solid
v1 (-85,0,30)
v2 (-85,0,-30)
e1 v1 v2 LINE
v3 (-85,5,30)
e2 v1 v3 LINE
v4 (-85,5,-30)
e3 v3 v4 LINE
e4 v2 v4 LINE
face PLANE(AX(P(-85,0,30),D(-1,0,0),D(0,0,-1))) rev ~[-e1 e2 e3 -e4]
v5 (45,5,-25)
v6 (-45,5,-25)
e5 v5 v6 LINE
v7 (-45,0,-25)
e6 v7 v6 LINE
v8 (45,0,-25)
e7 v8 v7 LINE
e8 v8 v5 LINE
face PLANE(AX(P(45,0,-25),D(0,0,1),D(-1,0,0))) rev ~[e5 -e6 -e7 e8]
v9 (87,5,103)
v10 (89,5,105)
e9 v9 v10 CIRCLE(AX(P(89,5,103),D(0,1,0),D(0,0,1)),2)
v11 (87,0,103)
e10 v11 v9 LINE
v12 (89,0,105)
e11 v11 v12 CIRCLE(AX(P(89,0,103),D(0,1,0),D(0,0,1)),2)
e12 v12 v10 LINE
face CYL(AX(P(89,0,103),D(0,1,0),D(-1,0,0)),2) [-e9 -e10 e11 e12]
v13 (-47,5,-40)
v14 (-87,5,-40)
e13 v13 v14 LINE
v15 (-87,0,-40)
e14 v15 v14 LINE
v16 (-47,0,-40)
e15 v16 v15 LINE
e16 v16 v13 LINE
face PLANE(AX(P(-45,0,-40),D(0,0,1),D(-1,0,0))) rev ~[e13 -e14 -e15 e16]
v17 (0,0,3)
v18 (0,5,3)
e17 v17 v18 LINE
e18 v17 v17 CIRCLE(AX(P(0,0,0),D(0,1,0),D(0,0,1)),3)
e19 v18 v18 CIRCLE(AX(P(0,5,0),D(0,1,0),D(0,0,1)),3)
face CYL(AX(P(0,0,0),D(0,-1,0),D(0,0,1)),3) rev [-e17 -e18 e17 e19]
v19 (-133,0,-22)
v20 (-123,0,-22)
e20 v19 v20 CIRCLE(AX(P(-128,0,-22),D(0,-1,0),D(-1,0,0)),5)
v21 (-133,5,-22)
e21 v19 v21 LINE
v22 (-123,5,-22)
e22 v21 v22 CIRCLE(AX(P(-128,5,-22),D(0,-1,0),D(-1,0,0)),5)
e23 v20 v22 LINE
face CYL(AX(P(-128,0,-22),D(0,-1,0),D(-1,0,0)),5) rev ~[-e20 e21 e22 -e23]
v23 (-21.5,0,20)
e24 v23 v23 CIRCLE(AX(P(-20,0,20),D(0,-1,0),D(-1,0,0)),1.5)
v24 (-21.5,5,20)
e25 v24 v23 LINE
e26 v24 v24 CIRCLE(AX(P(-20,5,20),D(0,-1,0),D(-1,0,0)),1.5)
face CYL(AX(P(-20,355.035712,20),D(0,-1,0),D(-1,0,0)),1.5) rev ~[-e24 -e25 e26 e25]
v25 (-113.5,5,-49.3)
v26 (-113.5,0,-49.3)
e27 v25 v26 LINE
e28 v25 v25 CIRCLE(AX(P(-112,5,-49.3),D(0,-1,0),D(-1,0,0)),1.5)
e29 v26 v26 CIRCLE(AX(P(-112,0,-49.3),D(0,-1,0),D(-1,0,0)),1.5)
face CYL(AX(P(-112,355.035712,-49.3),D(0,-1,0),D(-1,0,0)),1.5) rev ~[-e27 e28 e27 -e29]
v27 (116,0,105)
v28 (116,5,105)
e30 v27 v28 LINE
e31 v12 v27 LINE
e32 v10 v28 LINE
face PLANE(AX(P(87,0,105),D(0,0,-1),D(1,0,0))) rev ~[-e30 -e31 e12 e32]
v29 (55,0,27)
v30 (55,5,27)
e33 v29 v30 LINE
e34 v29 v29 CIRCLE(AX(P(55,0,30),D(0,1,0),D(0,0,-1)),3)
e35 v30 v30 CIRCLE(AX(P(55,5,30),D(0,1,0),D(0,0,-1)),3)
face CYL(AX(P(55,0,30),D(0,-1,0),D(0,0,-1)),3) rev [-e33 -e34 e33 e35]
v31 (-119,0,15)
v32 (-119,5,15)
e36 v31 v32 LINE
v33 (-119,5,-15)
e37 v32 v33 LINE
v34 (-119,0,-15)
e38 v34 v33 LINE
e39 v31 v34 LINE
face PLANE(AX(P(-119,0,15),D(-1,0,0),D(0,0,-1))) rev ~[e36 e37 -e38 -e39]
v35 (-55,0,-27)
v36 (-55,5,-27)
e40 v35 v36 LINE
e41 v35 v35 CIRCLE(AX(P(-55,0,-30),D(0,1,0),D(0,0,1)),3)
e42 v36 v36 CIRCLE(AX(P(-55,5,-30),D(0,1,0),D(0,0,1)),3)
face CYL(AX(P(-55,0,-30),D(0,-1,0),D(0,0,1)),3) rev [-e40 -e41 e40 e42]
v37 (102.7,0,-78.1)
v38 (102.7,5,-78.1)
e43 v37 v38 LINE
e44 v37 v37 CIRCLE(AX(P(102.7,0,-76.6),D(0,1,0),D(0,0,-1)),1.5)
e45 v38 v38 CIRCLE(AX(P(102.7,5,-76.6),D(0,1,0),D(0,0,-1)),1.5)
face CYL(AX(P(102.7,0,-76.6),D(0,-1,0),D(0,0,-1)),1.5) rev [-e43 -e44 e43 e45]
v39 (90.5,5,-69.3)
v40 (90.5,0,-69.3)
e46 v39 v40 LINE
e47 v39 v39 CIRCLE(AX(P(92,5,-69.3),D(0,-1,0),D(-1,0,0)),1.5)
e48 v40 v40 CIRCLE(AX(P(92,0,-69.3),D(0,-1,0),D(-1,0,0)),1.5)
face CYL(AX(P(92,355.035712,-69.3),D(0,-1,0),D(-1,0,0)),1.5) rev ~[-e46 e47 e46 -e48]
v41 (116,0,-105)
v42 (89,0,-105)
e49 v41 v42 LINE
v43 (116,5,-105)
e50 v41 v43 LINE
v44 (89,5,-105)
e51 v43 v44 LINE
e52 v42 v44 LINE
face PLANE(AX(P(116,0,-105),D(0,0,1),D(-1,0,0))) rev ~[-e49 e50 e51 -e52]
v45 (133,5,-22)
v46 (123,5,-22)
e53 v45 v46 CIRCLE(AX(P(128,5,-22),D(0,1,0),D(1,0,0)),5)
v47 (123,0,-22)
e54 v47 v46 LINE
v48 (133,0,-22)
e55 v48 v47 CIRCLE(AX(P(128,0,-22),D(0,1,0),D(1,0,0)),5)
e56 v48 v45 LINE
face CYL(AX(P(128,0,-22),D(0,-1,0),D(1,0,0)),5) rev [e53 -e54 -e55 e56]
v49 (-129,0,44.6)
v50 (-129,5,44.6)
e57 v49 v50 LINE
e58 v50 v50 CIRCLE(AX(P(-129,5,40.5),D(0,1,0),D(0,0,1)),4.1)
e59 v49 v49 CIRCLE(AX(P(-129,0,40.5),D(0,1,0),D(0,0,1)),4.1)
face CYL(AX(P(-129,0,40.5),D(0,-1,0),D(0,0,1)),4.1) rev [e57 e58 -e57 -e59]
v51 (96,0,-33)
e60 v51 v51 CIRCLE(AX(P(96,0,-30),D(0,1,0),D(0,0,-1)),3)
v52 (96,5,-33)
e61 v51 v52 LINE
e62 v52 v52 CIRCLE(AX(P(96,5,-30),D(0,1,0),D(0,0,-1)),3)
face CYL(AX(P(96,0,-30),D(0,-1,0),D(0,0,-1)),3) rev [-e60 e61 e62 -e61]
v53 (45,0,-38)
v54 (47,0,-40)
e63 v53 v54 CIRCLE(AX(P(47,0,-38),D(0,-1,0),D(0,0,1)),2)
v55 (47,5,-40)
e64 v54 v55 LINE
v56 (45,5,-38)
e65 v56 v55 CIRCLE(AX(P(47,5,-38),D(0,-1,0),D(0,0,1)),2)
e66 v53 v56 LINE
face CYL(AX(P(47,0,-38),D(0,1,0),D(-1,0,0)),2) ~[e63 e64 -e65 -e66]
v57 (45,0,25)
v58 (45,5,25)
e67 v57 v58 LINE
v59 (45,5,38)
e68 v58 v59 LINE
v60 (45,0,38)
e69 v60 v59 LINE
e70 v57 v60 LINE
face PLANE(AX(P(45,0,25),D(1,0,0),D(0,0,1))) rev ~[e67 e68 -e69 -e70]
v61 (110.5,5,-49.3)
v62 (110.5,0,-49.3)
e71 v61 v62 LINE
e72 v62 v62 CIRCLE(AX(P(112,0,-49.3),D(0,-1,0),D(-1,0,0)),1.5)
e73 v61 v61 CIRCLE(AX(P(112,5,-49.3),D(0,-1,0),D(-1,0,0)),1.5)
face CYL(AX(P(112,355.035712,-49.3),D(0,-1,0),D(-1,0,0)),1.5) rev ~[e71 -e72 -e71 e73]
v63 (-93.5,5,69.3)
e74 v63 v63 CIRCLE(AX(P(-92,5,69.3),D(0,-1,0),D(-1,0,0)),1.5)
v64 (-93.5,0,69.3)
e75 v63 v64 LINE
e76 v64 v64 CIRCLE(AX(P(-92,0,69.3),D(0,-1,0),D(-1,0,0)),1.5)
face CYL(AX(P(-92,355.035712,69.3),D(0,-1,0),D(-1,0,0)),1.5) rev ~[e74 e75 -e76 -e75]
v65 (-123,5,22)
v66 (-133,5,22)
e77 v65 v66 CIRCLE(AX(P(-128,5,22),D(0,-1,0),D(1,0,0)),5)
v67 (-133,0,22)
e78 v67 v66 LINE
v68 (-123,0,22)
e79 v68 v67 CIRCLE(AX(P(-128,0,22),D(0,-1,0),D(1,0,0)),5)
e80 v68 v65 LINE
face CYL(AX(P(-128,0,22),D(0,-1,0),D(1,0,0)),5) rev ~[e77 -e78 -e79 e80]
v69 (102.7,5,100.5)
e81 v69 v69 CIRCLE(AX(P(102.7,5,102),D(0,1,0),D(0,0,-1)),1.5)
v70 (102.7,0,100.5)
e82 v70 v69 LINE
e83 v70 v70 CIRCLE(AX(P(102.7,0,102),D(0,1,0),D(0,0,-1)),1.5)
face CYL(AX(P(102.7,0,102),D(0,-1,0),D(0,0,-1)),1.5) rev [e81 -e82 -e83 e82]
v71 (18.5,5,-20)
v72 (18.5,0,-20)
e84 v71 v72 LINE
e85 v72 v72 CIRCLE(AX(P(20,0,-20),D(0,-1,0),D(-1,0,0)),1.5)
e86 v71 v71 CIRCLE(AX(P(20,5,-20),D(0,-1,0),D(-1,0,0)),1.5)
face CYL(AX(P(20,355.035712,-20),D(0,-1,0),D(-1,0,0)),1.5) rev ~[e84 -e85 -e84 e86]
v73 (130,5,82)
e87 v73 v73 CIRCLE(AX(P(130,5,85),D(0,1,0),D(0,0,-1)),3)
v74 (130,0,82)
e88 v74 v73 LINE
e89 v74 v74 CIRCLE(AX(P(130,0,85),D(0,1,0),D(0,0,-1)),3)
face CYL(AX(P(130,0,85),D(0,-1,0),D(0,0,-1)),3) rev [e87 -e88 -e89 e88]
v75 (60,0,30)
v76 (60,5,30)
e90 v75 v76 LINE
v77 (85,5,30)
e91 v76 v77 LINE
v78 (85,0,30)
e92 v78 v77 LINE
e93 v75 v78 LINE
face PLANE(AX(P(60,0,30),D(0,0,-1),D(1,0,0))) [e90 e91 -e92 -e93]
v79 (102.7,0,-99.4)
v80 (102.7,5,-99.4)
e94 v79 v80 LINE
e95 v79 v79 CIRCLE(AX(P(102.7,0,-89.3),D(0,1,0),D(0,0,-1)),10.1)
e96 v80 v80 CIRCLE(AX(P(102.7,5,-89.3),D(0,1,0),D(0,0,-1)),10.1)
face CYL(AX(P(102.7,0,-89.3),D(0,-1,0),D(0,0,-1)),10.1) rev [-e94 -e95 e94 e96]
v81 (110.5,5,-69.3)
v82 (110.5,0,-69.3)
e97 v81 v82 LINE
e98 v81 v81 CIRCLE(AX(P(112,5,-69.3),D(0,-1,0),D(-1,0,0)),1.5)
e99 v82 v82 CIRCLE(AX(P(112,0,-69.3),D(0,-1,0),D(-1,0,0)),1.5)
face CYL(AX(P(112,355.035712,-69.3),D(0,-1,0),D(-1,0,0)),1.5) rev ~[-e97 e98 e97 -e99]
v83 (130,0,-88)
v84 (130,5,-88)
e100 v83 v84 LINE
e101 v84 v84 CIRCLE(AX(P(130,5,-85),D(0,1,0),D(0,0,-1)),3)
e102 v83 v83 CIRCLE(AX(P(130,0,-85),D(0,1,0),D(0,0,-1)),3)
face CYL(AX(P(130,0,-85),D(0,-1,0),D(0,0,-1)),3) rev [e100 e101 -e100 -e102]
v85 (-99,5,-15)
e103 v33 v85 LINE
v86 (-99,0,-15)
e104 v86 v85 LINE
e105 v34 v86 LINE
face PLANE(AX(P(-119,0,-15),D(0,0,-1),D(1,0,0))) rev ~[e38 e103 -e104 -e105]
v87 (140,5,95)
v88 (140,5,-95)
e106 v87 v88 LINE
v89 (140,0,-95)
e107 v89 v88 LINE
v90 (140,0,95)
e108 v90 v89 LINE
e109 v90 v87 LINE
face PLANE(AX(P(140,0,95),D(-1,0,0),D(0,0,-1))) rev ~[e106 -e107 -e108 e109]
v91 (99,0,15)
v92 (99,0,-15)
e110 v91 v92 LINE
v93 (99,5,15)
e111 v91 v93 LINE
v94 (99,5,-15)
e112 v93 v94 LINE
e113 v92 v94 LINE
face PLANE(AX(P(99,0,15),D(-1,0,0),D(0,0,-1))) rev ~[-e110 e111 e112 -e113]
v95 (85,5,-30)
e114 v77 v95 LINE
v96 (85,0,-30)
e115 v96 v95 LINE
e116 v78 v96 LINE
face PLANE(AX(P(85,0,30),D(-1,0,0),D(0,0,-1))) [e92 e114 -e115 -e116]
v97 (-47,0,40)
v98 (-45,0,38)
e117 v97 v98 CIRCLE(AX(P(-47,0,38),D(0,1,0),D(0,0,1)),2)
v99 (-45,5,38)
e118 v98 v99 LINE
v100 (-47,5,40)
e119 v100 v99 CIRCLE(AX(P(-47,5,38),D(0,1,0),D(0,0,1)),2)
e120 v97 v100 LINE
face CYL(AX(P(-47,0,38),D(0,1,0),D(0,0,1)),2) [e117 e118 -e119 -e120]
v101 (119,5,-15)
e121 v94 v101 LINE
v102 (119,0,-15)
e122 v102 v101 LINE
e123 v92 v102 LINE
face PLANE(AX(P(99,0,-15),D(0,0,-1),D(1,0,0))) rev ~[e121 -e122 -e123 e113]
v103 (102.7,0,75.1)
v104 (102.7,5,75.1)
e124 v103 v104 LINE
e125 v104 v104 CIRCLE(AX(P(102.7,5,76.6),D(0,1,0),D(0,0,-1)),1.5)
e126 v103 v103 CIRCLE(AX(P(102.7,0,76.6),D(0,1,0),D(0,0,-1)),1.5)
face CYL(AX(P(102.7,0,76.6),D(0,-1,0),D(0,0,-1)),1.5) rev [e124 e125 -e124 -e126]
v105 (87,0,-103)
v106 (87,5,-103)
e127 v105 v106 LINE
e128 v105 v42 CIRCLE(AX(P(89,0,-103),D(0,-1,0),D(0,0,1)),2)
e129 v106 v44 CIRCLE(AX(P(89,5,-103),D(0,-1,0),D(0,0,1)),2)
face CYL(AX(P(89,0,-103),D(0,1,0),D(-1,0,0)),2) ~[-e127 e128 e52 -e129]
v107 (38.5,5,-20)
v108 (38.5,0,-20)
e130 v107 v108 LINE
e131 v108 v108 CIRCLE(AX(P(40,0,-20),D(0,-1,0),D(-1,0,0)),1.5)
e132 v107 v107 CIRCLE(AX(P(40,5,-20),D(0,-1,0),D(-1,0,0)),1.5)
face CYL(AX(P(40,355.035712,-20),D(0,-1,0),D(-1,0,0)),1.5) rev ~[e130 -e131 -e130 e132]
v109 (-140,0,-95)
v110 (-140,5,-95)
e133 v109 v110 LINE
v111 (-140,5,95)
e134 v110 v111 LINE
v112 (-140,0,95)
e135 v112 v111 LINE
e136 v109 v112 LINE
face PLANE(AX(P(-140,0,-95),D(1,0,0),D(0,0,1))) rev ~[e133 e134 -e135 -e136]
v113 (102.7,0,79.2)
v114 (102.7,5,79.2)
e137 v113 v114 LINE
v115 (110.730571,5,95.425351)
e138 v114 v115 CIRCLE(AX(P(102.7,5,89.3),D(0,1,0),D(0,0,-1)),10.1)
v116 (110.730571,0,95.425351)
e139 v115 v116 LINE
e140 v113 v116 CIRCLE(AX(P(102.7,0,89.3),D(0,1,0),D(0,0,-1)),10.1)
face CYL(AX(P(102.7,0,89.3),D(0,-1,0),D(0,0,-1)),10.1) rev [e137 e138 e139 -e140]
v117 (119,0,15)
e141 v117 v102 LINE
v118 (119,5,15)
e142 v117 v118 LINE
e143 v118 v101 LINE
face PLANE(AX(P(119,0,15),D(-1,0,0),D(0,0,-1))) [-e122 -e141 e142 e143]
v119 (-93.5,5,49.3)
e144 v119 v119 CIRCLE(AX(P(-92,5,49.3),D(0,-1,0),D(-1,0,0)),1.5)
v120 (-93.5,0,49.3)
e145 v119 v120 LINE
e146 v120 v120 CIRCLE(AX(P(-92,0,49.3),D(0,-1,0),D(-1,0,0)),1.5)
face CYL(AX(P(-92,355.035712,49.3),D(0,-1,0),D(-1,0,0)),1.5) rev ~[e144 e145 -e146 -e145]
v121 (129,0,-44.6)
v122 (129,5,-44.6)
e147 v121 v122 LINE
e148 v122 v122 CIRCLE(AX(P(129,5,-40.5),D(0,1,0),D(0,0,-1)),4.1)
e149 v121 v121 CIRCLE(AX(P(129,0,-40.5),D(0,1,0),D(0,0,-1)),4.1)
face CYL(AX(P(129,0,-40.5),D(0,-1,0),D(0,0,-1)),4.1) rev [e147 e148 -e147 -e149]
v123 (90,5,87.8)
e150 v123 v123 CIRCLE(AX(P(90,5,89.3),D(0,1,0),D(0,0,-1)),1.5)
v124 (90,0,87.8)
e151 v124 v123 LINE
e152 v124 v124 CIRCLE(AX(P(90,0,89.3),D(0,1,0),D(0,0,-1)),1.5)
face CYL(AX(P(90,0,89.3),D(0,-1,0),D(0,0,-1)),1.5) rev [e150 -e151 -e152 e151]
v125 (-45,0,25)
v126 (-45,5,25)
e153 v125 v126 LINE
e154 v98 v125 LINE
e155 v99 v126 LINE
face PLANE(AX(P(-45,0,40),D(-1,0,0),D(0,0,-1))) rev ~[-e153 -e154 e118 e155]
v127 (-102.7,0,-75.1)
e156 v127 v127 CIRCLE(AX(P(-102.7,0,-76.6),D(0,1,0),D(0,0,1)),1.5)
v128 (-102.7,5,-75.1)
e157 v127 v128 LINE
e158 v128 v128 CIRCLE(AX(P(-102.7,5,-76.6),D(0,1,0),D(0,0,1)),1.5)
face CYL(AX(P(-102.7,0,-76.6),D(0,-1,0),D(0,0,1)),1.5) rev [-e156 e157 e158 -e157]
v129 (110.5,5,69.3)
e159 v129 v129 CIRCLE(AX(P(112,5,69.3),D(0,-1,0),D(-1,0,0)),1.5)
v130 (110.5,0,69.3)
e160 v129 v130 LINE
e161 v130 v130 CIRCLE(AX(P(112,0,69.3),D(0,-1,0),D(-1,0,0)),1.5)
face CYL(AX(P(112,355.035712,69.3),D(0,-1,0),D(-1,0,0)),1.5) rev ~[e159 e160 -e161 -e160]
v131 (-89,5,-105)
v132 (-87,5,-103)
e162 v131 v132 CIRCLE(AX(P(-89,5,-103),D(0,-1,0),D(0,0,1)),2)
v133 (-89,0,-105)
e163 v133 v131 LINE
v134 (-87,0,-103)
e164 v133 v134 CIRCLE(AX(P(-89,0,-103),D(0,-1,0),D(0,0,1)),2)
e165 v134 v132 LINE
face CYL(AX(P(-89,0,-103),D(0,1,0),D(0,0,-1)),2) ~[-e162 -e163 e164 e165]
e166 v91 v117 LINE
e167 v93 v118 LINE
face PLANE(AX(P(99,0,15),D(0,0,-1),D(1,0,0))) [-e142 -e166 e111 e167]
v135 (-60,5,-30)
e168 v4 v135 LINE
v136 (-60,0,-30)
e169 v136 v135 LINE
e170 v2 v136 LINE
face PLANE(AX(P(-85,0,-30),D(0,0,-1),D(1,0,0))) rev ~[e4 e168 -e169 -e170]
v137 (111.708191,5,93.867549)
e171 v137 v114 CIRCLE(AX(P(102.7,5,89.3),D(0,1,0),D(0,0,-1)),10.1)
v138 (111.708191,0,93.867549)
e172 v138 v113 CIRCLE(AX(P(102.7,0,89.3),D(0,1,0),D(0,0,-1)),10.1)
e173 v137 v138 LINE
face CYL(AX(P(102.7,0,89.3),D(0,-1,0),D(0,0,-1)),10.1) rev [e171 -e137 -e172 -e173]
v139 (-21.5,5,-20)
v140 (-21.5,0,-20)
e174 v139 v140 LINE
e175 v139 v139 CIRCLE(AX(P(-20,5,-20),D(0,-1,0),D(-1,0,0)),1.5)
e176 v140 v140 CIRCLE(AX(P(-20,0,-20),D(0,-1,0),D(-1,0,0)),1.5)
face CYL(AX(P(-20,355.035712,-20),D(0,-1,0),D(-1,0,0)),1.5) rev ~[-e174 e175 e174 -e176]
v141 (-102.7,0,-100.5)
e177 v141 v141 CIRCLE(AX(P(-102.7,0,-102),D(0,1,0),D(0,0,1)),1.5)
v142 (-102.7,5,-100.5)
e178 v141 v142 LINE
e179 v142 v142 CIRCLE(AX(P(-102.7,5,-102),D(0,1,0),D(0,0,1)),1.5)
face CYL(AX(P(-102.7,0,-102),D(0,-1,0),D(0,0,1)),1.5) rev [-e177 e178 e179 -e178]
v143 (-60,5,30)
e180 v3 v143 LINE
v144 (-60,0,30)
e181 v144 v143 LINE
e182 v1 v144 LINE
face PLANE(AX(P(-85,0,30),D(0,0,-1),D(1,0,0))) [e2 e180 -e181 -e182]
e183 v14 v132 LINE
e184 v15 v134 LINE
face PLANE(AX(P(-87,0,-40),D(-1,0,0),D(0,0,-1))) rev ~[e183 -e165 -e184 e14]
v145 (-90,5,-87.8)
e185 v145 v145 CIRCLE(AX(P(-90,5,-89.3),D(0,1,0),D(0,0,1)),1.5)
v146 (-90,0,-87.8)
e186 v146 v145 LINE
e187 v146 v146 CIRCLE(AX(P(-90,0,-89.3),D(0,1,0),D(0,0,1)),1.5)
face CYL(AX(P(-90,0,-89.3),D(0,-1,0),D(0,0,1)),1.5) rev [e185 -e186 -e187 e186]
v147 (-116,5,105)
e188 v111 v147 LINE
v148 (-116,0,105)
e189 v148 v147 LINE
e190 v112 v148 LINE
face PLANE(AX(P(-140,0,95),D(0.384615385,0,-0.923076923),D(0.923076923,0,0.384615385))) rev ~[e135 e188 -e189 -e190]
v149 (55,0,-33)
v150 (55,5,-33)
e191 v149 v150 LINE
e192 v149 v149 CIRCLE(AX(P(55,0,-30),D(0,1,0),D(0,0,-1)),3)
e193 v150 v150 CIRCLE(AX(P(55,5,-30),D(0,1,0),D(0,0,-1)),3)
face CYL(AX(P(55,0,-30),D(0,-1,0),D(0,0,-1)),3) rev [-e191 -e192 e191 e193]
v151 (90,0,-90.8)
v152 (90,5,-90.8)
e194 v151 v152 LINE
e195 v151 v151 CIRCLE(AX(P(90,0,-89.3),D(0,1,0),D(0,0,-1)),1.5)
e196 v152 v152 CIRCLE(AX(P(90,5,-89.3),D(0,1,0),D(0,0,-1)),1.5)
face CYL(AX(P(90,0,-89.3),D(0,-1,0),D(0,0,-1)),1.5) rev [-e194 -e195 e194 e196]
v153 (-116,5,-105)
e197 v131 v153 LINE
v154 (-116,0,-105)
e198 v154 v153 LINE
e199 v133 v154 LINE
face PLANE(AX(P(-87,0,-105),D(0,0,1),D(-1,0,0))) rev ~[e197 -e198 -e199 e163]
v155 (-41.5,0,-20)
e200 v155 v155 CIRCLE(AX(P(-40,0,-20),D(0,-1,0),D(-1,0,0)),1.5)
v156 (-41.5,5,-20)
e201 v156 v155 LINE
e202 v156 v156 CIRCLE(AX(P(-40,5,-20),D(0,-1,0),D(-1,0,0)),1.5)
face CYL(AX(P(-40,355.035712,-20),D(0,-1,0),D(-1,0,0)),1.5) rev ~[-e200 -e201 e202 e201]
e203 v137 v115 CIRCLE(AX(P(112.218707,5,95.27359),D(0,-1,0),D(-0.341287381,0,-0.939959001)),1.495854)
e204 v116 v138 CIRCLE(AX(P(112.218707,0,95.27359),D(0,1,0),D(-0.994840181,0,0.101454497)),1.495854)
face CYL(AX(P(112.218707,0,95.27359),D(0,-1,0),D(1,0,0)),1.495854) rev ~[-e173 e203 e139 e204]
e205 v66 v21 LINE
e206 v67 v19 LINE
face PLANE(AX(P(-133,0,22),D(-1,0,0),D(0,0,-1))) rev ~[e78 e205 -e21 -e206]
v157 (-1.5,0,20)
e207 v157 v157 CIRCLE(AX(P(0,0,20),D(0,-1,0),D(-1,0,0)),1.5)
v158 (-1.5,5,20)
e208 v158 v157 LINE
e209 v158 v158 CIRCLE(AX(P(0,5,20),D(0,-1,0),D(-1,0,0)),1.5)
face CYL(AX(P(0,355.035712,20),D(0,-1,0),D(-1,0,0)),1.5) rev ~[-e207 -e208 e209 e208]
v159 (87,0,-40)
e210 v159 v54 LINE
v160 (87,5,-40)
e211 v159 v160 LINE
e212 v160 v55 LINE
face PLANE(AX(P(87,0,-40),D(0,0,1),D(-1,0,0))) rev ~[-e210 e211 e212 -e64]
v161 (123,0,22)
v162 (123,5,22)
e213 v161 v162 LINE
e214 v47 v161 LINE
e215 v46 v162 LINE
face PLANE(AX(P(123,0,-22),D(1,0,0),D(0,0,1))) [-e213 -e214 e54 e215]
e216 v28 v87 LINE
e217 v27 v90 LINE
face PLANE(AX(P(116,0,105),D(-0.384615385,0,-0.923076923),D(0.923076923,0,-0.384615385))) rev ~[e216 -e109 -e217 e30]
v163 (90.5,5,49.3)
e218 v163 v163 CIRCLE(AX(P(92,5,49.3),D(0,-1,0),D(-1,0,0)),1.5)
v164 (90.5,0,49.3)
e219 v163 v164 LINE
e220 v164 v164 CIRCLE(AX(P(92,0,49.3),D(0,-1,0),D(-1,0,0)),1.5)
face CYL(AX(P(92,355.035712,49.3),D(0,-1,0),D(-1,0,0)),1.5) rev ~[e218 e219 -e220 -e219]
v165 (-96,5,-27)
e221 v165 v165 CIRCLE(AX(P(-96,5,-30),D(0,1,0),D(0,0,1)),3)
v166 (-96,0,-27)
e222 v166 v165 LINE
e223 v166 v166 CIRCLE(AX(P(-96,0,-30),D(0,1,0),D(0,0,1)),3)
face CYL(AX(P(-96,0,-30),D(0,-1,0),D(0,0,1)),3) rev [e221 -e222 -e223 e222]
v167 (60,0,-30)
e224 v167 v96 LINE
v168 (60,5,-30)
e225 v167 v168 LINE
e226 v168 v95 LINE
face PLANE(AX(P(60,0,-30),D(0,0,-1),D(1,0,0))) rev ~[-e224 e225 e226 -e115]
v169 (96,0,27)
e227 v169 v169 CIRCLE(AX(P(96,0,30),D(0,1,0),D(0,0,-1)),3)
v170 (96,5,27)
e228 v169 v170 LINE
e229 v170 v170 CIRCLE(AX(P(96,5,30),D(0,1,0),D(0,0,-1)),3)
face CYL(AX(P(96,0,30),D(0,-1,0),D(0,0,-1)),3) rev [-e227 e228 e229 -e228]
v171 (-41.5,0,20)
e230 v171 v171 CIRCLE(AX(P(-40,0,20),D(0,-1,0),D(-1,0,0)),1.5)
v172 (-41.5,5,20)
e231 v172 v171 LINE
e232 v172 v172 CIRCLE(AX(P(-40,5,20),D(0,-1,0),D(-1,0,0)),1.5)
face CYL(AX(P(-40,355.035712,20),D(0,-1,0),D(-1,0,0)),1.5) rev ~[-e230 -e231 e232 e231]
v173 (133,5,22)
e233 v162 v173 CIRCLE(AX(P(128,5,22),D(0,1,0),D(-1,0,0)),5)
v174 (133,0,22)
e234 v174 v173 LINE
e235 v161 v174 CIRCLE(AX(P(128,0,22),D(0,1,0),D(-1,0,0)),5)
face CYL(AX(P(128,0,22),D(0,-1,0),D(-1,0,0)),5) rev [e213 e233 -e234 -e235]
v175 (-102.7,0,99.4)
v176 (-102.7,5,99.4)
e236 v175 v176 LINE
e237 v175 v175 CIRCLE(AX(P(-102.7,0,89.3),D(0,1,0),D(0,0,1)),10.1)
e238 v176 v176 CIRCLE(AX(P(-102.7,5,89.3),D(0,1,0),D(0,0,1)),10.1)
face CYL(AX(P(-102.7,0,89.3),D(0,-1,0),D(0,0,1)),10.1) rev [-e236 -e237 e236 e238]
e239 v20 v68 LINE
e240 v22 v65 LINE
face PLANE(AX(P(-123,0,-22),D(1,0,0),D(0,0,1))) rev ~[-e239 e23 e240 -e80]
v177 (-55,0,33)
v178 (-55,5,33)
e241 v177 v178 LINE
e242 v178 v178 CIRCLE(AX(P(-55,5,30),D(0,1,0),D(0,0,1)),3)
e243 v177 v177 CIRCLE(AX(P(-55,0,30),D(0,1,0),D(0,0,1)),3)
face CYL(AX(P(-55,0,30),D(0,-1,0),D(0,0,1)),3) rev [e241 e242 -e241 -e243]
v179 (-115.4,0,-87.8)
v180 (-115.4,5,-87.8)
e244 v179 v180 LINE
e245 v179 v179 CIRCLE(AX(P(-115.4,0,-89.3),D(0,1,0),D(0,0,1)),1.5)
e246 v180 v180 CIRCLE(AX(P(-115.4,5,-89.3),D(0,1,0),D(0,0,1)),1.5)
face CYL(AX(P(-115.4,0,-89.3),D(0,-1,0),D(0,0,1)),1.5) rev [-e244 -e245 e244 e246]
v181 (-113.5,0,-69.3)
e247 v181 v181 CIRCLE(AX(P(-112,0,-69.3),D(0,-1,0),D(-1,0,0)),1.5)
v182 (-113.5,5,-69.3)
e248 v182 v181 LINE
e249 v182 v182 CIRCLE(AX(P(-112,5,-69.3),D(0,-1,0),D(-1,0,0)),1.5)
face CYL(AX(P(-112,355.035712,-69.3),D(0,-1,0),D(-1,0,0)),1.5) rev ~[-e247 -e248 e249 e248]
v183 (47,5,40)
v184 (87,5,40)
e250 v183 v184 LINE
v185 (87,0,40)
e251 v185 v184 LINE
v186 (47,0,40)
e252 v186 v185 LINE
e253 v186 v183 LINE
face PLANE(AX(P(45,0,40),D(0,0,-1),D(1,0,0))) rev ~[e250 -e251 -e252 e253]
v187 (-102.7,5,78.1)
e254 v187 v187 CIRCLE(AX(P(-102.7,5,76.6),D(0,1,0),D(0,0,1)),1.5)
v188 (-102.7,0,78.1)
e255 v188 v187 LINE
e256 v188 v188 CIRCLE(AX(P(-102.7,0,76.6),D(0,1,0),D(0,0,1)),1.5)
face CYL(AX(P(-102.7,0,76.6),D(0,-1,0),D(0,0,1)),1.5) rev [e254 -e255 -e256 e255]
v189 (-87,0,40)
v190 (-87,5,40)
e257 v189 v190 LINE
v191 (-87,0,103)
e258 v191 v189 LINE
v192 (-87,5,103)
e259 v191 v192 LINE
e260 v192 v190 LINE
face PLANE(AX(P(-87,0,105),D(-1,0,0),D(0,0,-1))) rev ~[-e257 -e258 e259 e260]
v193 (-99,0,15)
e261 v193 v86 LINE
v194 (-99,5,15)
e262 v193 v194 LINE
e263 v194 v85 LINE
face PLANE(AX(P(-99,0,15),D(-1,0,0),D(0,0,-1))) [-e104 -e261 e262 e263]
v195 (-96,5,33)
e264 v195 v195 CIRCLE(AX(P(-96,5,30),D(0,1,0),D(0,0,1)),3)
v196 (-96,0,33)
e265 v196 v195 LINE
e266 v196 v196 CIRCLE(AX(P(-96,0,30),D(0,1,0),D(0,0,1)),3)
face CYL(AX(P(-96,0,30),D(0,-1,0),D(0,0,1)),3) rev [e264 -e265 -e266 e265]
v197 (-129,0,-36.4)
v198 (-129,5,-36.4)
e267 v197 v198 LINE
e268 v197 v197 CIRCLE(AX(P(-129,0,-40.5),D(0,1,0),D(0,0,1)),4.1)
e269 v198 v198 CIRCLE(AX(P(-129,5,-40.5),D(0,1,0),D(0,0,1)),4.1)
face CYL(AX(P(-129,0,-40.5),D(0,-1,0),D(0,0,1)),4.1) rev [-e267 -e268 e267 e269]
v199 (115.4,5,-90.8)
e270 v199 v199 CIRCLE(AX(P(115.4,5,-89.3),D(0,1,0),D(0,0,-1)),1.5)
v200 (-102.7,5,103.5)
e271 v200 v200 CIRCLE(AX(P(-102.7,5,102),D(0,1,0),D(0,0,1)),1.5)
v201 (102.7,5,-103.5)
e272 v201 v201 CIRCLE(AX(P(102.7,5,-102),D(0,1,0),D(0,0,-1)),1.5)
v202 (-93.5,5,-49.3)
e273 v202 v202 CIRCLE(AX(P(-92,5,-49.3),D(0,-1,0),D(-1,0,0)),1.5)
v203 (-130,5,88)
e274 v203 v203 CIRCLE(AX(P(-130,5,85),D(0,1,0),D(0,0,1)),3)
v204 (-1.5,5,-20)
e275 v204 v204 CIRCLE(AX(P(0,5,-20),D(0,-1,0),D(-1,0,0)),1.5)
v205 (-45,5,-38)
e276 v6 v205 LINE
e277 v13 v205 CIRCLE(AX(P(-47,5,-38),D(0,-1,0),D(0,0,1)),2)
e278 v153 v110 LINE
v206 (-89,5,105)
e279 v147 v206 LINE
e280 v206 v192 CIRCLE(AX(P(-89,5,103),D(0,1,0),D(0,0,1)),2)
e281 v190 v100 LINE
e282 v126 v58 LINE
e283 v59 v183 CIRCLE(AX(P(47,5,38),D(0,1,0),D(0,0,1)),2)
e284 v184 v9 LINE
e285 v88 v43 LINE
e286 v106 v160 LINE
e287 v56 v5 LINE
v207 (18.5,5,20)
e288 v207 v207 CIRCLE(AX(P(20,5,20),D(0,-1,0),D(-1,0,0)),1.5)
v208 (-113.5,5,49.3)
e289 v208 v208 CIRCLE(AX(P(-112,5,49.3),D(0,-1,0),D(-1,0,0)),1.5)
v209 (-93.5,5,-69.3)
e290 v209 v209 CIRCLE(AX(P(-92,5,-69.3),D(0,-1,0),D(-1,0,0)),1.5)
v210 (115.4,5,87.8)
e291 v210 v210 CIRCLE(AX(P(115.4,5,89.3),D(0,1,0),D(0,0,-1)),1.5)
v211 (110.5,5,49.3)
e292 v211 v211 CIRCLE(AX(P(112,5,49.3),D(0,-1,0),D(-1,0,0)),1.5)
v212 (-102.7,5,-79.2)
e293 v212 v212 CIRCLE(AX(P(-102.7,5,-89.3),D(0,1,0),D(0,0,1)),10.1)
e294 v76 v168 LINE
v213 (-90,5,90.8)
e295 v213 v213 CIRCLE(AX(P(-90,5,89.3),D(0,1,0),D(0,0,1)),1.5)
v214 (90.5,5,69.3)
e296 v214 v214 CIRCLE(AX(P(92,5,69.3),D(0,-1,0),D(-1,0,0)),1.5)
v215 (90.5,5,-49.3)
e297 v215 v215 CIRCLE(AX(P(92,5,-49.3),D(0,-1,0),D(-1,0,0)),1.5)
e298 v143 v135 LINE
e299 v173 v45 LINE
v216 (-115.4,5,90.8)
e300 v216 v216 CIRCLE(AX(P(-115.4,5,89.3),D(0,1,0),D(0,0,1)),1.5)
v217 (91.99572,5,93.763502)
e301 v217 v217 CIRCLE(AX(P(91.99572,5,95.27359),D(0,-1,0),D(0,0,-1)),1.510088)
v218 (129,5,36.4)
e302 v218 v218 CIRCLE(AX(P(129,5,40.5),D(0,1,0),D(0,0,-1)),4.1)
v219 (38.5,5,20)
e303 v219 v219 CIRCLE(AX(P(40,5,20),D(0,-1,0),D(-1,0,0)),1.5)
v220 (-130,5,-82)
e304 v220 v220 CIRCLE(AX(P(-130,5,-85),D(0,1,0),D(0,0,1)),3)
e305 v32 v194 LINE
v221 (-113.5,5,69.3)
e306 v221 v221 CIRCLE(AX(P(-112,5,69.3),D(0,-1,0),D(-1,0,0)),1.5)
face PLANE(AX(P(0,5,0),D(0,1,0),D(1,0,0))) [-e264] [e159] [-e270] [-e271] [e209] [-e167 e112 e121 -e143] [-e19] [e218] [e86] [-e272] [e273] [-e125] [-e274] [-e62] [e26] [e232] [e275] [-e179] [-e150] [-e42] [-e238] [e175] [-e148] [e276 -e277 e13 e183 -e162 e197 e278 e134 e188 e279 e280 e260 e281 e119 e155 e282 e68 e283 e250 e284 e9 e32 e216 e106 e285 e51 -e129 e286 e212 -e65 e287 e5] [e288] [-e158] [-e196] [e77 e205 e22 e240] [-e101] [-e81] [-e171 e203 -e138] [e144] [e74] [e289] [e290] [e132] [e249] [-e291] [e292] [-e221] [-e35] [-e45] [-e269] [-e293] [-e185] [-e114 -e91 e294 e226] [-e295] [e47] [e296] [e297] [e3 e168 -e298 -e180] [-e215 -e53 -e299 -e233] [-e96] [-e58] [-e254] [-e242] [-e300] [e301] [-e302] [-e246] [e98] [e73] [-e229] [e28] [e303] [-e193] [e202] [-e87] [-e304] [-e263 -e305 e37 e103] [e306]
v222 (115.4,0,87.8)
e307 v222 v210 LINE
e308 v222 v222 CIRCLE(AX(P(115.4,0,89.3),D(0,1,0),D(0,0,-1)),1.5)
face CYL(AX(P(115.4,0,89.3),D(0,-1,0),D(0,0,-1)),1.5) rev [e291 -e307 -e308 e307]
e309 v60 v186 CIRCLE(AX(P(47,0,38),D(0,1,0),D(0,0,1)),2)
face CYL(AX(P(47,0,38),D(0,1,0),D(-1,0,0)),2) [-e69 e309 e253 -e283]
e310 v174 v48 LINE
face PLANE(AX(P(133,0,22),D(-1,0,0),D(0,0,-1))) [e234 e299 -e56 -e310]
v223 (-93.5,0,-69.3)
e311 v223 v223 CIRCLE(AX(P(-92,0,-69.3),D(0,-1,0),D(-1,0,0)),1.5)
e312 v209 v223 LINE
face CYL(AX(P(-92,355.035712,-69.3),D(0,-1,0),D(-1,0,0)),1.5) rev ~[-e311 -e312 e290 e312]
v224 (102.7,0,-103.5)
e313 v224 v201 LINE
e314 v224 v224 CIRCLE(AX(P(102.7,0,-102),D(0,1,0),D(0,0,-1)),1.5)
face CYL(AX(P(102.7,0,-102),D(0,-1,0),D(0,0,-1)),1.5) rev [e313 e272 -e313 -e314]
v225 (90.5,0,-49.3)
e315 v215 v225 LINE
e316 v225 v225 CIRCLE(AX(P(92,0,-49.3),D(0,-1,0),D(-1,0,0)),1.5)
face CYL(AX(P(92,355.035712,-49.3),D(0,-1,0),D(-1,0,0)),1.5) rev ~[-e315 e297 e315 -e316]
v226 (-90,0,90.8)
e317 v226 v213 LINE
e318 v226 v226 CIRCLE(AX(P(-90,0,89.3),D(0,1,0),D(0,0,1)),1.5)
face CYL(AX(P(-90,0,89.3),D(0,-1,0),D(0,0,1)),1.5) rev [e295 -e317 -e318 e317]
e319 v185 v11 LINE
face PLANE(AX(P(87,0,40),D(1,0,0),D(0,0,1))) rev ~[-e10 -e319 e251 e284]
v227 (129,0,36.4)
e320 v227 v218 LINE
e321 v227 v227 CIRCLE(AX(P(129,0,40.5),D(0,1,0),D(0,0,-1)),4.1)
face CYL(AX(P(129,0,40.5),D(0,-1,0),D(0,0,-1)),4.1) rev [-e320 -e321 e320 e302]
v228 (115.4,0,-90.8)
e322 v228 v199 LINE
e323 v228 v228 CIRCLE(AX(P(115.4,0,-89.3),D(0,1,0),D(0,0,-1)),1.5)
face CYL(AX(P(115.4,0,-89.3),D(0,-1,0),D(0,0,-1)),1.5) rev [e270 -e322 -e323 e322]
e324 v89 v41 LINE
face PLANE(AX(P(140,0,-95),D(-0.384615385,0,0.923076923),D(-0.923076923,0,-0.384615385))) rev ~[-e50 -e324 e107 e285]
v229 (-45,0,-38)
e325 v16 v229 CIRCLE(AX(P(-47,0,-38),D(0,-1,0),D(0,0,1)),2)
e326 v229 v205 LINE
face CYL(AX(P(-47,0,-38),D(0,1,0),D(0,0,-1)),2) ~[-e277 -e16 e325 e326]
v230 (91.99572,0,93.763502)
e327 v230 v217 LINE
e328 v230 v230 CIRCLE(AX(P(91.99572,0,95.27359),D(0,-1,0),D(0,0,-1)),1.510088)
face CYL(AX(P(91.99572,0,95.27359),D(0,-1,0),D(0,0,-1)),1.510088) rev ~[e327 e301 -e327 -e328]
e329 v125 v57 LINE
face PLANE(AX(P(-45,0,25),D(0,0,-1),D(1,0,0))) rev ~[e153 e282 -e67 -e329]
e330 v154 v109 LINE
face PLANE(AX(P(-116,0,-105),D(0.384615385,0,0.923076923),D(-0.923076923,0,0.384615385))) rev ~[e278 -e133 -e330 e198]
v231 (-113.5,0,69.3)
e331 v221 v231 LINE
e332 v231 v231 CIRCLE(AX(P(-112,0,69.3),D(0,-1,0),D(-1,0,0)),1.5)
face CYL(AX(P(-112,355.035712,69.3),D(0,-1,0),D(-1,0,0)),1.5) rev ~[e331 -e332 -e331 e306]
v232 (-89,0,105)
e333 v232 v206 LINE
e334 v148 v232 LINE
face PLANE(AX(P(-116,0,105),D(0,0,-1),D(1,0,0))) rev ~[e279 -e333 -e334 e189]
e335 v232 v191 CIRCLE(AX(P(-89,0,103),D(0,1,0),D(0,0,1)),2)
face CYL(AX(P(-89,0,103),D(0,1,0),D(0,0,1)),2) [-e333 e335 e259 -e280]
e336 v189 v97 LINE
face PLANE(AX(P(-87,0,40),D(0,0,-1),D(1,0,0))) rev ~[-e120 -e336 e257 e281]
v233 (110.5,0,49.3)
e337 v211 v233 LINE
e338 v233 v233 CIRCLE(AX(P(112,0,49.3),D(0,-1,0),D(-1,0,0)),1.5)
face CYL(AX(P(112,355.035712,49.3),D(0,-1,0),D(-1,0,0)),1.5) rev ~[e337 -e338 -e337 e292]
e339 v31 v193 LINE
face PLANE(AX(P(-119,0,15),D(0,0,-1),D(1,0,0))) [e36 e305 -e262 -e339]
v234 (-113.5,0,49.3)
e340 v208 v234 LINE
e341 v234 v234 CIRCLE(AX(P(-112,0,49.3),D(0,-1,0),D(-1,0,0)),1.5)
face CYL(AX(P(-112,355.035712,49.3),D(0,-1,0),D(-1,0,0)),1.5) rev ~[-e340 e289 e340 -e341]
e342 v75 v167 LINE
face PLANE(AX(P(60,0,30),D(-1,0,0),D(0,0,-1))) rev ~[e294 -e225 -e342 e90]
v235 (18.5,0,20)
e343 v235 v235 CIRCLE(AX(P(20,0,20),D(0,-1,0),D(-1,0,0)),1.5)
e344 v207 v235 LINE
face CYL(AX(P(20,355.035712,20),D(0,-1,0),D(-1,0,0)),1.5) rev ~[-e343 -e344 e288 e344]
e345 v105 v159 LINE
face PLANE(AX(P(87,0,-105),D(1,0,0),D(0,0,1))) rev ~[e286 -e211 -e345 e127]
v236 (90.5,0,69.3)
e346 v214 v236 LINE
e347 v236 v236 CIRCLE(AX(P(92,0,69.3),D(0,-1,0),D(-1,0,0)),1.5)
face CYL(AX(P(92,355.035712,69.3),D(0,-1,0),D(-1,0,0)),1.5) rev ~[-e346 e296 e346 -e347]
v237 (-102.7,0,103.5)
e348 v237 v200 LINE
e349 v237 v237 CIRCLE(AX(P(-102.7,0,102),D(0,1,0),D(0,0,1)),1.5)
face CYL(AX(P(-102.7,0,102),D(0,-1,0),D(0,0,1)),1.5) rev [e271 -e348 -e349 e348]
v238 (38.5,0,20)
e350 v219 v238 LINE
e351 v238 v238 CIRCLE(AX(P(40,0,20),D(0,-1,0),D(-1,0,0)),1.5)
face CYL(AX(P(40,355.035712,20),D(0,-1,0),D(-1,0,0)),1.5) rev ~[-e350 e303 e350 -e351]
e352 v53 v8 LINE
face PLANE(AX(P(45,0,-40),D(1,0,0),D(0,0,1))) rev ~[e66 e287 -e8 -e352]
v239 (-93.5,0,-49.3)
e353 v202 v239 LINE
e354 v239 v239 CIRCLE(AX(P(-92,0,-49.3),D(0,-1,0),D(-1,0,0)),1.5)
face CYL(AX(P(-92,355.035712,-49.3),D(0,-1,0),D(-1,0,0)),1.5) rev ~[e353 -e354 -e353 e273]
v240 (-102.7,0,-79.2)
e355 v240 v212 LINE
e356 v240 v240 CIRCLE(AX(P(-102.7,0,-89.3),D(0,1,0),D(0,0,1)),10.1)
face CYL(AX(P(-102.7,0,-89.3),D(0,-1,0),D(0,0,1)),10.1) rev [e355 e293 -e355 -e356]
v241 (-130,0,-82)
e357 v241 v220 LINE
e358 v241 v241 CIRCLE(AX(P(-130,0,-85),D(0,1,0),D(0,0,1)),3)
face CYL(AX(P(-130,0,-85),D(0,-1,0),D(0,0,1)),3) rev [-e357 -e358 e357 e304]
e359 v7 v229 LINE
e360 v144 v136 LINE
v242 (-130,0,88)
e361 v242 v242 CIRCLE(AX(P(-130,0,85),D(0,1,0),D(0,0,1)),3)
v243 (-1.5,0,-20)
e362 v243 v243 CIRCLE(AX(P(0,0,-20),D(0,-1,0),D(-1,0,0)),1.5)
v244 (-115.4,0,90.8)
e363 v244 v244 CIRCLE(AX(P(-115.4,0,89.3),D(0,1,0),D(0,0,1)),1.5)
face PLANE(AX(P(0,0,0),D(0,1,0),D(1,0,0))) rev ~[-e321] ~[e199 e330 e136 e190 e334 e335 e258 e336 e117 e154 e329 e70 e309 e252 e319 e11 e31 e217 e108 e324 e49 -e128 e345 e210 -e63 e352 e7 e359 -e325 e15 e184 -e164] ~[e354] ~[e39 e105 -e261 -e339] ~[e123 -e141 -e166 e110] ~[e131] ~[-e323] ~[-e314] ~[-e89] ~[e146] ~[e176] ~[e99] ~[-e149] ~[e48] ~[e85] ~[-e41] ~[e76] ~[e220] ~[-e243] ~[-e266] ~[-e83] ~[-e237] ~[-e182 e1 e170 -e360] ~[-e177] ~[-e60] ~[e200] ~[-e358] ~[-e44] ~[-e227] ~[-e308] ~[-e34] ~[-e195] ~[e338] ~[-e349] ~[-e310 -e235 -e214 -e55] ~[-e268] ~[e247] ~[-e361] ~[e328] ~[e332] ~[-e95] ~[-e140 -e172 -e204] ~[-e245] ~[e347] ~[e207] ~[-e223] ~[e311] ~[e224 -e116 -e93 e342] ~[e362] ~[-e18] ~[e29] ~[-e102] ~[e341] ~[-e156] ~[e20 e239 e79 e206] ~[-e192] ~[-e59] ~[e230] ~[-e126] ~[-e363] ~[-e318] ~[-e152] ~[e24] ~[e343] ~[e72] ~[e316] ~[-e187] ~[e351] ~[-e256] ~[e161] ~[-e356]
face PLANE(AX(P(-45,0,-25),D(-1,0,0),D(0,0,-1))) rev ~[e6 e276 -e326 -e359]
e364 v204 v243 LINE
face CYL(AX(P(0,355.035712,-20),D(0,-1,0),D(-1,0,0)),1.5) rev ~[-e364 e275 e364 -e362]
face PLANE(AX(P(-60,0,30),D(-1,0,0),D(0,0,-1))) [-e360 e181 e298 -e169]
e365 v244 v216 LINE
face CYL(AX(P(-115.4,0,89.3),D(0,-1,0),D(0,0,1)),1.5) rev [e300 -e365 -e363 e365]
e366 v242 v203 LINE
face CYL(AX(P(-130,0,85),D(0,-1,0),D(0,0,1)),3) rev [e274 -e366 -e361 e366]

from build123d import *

# Parameters (mm, degrees)
ESQUISSE2_R                   = 3
ESQUISSE2_R_2                 = 10.1
ESQUISSE2_R_3                 = 1.5
ESQUISSE2_R_4                 = 4.1
ESQUISSE2_W                   = 25
ESQUISSE2_H                   = 60
ESQUISSE2_W_2                 = 20
ESQUISSE2_H_2                 = 30
BOSS_EXTRU_1_DEPTH            = 5
CONG_2_R                      = 2
DIAM_TRE_DU_PER_AGE_3_0_3_1_D = 3
ESQUISSE6_R                   = 1.495854397
ESQUISSE6_R_2                 = 1.51008819
ENL_V_MAT_EXTRU_1_DEPTH       = 10


with BuildPart() as part:
    # Esquisse2 → Boss.-Extru.1 (new body)
    with BuildSketch(Plane(origin=(0, 0, 0), x_dir=(1, 0, 0), z_dir=(0, 1, 0))):
        Polygon((-140, 95), (-140, -95), (-116, -105), (-87, -105), (-87, -40), (-45, -40), (-45, -25), (45, -25), (45, -40), (87, -40), (87, -105), (116, -105), (140, -95), (140, 95), (116, 105), (87, 105), (87, 40), (45, 40), (45, 25), (-45, 25), (-45, 40), (-87, 40), (-87, 105), (-116, 105), align=None)
        with Locations(Location((-96, 30, 0), (0, 0, 270))):
            Circle(ESQUISSE2_R, mode=Mode.SUBTRACT)
        with Locations(Location((-96, -30, 0), (0, 0, 270))):
            Circle(ESQUISSE2_R, mode=Mode.SUBTRACT)
        with Locations(Location((-55, -30, 0), (0, 0, 270))):
            Circle(ESQUISSE2_R, mode=Mode.SUBTRACT)
        with Locations(Location((-55, 30, 0), (0, 0, 270))):
            Circle(ESQUISSE2_R, mode=Mode.SUBTRACT)
        with Locations(Location((-130, 85, 0), (0, 0, 270))):
            Circle(ESQUISSE2_R, mode=Mode.SUBTRACT)
        with Locations(Location((-130, -85, 0), (0, 0, 270))):
            Circle(ESQUISSE2_R, mode=Mode.SUBTRACT)
        with Locations(Location((-102.7, 89.3, 0), (0, 0, 270))):
            Circle(ESQUISSE2_R_2, mode=Mode.SUBTRACT)
        with Locations(Location((-90, 89.3, 0), (0, 0, 270))):
            Circle(ESQUISSE2_R_3, mode=Mode.SUBTRACT)
        with Locations(Location((-102.7, 102, 0), (0, 0, 270))):
            Circle(ESQUISSE2_R_3, mode=Mode.SUBTRACT)
        with Locations(Location((-115.4, 89.3, 0), (0, 0, 270))):
            Circle(ESQUISSE2_R_3, mode=Mode.SUBTRACT)
        with Locations(Location((-102.7, 76.6, 0), (0, 0, 270))):
            Circle(ESQUISSE2_R_3, mode=Mode.SUBTRACT)
        with Locations(Location((-102.7, -89.3, 0), (0, 0, 270))):
            Circle(ESQUISSE2_R_2, mode=Mode.SUBTRACT)
        with Locations(Location((-90, -89.3, 0), (0, 0, 270))):
            Circle(ESQUISSE2_R_3, mode=Mode.SUBTRACT)
        with Locations(Location((-102.7, -76.6, 0), (0, 0, 270))):
            Circle(ESQUISSE2_R_3, mode=Mode.SUBTRACT)
        with Locations(Location((-115.4, -89.3, 0), (0, 0, 270))):
            Circle(ESQUISSE2_R_3, mode=Mode.SUBTRACT)
        with Locations(Location((-102.7, -102, 0), (0, 0, 270))):
            Circle(ESQUISSE2_R_3, mode=Mode.SUBTRACT)
        with Locations(Location((102.7, -102, 0), (0, 0, 90))):
            Circle(ESQUISSE2_R_3, mode=Mode.SUBTRACT)
        with Locations(Location((115.4, -89.3, 0), (0, 0, 90))):
            Circle(ESQUISSE2_R_3, mode=Mode.SUBTRACT)
        with Locations(Location((102.7, -76.6, 0), (0, 0, 90))):
            Circle(ESQUISSE2_R_3, mode=Mode.SUBTRACT)
        with Locations(Location((90, -89.3, 0), (0, 0, 90))):
            Circle(ESQUISSE2_R_3, mode=Mode.SUBTRACT)
        with Locations(Location((102.7, -89.3, 0), (0, 0, 90))):
            Circle(ESQUISSE2_R_2, mode=Mode.SUBTRACT)
        with Locations(Location((102.7, 76.6, 0), (0, 0, 90))):
            Circle(ESQUISSE2_R_3, mode=Mode.SUBTRACT)
        with Locations(Location((115.4, 89.3, 0), (0, 0, 90))):
            Circle(ESQUISSE2_R_3, mode=Mode.SUBTRACT)
        with Locations(Location((102.7, 102, 0), (0, 0, 90))):
            Circle(ESQUISSE2_R_3, mode=Mode.SUBTRACT)
        with Locations(Location((90, 89.3, 0), (0, 0, 90))):
            Circle(ESQUISSE2_R_3, mode=Mode.SUBTRACT)
        with Locations(Location((102.7, 89.3, 0), (0, 0, 90))):
            Circle(ESQUISSE2_R_2, mode=Mode.SUBTRACT)
        with Locations(Location((130, -85, 0), (0, 0, 90))):
            Circle(ESQUISSE2_R, mode=Mode.SUBTRACT)
        with Locations(Location((130, 85, 0), (0, 0, 90))):
            Circle(ESQUISSE2_R, mode=Mode.SUBTRACT)
        with Locations(Location((55, 30, 0), (0, 0, 90))):
            Circle(ESQUISSE2_R, mode=Mode.SUBTRACT)
        with Locations(Location((55, -30, 0), (0, 0, 90))):
            Circle(ESQUISSE2_R, mode=Mode.SUBTRACT)
        with Locations(Location((96, -30, 0), (0, 0, 90))):
            Circle(ESQUISSE2_R, mode=Mode.SUBTRACT)
        with Locations(Location((96, 30, 0), (0, 0, 90))):
            Circle(ESQUISSE2_R, mode=Mode.SUBTRACT)
        with Locations(Location((-129, 40.5, 0), (0, 0, 270))):
            Circle(ESQUISSE2_R_4, mode=Mode.SUBTRACT)
        with Locations(Location((-129, -40.5, 0), (0, 0, 270))):
            Circle(ESQUISSE2_R_4, mode=Mode.SUBTRACT)
        with Locations(Location((129, -40.5, 0), (0, 0, 90))):
            Circle(ESQUISSE2_R_4, mode=Mode.SUBTRACT)
        with Locations(Location((129, 40.5, 0), (0, 0, 90))):
            Circle(ESQUISSE2_R_4, mode=Mode.SUBTRACT)
        with Locations(Location((0, 0, 0), (0, 0, 270))):
            Circle(ESQUISSE2_R, mode=Mode.SUBTRACT)
        with Locations((-72.5, 0)):
            Rectangle(ESQUISSE2_W, ESQUISSE2_H, mode=Mode.SUBTRACT)
        with BuildLine():
            Line((-123, 22), (-123, -22))
            ThreePointArc((-123, -22), (-128, -27), (-133, -22))
            Line((-133, -22), (-133, 22))
            ThreePointArc((-133, 22), (-128, 27), (-123, 22))
        make_face(mode=Mode.SUBTRACT)
        with Locations((-109, 0)):
            Rectangle(ESQUISSE2_W_2, ESQUISSE2_H_2, mode=Mode.SUBTRACT)
        with Locations((109, 0)):
            Rectangle(ESQUISSE2_W_2, ESQUISSE2_H_2, mode=Mode.SUBTRACT)
        with Locations((72.5, 0)):
            Rectangle(ESQUISSE2_W, ESQUISSE2_H, mode=Mode.SUBTRACT)
        with BuildLine():
            Line((123, 22), (123, -22))
            ThreePointArc((123, -22), (128, -27), (133, -22))
            Line((133, -22), (133, 22))
            ThreePointArc((133, 22), (128, 27), (123, 22))
        make_face(mode=Mode.SUBTRACT)
    extrude(amount=BOSS_EXTRU_1_DEPTH)

    # Congé2
    cong_2_edges = [part.edges().sort_by_distance(p)[0] for p in [
        (-87, 2.5, -105),
        (-45, 2.5, -40),
        (45, 2.5, -40),
        (87, 2.5, -105),
        (87, 2.5, 105),
        (45, 2.5, 40),
        (-45, 2.5, 40),
        (-87, 2.5, 105),
    ]]
    fillet(cong_2_edges, radius=CONG_2_R)

    # Diamètre du perçage Ø3.0 (3)1 (through all)
    with Locations(Plane(origin=(0, 5, 0), x_dir=(1, 0, 0), z_dir=(0, 1, 0))):
        with Locations((-92, 69.3), (-92, 49.3), (-20, 20), (0, 20), (20, 20), (20, -20), (0, -20), (-20, -20), (-92, -69.3), (-92, -49.3), (92, -69.3), (92, -49.3), (92, 69.3), (92, 49.3), (112, 69.3), (112, 49.3), (-112, 69.3), (-112, 49.3), (-112, -49.3), (-112, -69.3), (112, -69.3), (112, -49.3), (40, -20), (40, 20), (-40, 20), (-40, -20)):
            Hole(DIAM_TRE_DU_PER_AGE_3_0_3_1_D / 2)

    # Esquisse6 → Enlèv. mat.-Extru.1 (cut)
    with BuildSketch(Plane.XZ):
        with Locations((112.218706977, 95.273590322)):
            Circle(ESQUISSE6_R)
        with Locations(Location((91.995720379, 95.273590322, 0), (0, 0, 270))):
            Circle(ESQUISSE6_R_2)
    extrude(amount=-ENL_V_MAT_EXTRU_1_DEPTH, mode=Mode.SUBTRACT)


solid = part.part
